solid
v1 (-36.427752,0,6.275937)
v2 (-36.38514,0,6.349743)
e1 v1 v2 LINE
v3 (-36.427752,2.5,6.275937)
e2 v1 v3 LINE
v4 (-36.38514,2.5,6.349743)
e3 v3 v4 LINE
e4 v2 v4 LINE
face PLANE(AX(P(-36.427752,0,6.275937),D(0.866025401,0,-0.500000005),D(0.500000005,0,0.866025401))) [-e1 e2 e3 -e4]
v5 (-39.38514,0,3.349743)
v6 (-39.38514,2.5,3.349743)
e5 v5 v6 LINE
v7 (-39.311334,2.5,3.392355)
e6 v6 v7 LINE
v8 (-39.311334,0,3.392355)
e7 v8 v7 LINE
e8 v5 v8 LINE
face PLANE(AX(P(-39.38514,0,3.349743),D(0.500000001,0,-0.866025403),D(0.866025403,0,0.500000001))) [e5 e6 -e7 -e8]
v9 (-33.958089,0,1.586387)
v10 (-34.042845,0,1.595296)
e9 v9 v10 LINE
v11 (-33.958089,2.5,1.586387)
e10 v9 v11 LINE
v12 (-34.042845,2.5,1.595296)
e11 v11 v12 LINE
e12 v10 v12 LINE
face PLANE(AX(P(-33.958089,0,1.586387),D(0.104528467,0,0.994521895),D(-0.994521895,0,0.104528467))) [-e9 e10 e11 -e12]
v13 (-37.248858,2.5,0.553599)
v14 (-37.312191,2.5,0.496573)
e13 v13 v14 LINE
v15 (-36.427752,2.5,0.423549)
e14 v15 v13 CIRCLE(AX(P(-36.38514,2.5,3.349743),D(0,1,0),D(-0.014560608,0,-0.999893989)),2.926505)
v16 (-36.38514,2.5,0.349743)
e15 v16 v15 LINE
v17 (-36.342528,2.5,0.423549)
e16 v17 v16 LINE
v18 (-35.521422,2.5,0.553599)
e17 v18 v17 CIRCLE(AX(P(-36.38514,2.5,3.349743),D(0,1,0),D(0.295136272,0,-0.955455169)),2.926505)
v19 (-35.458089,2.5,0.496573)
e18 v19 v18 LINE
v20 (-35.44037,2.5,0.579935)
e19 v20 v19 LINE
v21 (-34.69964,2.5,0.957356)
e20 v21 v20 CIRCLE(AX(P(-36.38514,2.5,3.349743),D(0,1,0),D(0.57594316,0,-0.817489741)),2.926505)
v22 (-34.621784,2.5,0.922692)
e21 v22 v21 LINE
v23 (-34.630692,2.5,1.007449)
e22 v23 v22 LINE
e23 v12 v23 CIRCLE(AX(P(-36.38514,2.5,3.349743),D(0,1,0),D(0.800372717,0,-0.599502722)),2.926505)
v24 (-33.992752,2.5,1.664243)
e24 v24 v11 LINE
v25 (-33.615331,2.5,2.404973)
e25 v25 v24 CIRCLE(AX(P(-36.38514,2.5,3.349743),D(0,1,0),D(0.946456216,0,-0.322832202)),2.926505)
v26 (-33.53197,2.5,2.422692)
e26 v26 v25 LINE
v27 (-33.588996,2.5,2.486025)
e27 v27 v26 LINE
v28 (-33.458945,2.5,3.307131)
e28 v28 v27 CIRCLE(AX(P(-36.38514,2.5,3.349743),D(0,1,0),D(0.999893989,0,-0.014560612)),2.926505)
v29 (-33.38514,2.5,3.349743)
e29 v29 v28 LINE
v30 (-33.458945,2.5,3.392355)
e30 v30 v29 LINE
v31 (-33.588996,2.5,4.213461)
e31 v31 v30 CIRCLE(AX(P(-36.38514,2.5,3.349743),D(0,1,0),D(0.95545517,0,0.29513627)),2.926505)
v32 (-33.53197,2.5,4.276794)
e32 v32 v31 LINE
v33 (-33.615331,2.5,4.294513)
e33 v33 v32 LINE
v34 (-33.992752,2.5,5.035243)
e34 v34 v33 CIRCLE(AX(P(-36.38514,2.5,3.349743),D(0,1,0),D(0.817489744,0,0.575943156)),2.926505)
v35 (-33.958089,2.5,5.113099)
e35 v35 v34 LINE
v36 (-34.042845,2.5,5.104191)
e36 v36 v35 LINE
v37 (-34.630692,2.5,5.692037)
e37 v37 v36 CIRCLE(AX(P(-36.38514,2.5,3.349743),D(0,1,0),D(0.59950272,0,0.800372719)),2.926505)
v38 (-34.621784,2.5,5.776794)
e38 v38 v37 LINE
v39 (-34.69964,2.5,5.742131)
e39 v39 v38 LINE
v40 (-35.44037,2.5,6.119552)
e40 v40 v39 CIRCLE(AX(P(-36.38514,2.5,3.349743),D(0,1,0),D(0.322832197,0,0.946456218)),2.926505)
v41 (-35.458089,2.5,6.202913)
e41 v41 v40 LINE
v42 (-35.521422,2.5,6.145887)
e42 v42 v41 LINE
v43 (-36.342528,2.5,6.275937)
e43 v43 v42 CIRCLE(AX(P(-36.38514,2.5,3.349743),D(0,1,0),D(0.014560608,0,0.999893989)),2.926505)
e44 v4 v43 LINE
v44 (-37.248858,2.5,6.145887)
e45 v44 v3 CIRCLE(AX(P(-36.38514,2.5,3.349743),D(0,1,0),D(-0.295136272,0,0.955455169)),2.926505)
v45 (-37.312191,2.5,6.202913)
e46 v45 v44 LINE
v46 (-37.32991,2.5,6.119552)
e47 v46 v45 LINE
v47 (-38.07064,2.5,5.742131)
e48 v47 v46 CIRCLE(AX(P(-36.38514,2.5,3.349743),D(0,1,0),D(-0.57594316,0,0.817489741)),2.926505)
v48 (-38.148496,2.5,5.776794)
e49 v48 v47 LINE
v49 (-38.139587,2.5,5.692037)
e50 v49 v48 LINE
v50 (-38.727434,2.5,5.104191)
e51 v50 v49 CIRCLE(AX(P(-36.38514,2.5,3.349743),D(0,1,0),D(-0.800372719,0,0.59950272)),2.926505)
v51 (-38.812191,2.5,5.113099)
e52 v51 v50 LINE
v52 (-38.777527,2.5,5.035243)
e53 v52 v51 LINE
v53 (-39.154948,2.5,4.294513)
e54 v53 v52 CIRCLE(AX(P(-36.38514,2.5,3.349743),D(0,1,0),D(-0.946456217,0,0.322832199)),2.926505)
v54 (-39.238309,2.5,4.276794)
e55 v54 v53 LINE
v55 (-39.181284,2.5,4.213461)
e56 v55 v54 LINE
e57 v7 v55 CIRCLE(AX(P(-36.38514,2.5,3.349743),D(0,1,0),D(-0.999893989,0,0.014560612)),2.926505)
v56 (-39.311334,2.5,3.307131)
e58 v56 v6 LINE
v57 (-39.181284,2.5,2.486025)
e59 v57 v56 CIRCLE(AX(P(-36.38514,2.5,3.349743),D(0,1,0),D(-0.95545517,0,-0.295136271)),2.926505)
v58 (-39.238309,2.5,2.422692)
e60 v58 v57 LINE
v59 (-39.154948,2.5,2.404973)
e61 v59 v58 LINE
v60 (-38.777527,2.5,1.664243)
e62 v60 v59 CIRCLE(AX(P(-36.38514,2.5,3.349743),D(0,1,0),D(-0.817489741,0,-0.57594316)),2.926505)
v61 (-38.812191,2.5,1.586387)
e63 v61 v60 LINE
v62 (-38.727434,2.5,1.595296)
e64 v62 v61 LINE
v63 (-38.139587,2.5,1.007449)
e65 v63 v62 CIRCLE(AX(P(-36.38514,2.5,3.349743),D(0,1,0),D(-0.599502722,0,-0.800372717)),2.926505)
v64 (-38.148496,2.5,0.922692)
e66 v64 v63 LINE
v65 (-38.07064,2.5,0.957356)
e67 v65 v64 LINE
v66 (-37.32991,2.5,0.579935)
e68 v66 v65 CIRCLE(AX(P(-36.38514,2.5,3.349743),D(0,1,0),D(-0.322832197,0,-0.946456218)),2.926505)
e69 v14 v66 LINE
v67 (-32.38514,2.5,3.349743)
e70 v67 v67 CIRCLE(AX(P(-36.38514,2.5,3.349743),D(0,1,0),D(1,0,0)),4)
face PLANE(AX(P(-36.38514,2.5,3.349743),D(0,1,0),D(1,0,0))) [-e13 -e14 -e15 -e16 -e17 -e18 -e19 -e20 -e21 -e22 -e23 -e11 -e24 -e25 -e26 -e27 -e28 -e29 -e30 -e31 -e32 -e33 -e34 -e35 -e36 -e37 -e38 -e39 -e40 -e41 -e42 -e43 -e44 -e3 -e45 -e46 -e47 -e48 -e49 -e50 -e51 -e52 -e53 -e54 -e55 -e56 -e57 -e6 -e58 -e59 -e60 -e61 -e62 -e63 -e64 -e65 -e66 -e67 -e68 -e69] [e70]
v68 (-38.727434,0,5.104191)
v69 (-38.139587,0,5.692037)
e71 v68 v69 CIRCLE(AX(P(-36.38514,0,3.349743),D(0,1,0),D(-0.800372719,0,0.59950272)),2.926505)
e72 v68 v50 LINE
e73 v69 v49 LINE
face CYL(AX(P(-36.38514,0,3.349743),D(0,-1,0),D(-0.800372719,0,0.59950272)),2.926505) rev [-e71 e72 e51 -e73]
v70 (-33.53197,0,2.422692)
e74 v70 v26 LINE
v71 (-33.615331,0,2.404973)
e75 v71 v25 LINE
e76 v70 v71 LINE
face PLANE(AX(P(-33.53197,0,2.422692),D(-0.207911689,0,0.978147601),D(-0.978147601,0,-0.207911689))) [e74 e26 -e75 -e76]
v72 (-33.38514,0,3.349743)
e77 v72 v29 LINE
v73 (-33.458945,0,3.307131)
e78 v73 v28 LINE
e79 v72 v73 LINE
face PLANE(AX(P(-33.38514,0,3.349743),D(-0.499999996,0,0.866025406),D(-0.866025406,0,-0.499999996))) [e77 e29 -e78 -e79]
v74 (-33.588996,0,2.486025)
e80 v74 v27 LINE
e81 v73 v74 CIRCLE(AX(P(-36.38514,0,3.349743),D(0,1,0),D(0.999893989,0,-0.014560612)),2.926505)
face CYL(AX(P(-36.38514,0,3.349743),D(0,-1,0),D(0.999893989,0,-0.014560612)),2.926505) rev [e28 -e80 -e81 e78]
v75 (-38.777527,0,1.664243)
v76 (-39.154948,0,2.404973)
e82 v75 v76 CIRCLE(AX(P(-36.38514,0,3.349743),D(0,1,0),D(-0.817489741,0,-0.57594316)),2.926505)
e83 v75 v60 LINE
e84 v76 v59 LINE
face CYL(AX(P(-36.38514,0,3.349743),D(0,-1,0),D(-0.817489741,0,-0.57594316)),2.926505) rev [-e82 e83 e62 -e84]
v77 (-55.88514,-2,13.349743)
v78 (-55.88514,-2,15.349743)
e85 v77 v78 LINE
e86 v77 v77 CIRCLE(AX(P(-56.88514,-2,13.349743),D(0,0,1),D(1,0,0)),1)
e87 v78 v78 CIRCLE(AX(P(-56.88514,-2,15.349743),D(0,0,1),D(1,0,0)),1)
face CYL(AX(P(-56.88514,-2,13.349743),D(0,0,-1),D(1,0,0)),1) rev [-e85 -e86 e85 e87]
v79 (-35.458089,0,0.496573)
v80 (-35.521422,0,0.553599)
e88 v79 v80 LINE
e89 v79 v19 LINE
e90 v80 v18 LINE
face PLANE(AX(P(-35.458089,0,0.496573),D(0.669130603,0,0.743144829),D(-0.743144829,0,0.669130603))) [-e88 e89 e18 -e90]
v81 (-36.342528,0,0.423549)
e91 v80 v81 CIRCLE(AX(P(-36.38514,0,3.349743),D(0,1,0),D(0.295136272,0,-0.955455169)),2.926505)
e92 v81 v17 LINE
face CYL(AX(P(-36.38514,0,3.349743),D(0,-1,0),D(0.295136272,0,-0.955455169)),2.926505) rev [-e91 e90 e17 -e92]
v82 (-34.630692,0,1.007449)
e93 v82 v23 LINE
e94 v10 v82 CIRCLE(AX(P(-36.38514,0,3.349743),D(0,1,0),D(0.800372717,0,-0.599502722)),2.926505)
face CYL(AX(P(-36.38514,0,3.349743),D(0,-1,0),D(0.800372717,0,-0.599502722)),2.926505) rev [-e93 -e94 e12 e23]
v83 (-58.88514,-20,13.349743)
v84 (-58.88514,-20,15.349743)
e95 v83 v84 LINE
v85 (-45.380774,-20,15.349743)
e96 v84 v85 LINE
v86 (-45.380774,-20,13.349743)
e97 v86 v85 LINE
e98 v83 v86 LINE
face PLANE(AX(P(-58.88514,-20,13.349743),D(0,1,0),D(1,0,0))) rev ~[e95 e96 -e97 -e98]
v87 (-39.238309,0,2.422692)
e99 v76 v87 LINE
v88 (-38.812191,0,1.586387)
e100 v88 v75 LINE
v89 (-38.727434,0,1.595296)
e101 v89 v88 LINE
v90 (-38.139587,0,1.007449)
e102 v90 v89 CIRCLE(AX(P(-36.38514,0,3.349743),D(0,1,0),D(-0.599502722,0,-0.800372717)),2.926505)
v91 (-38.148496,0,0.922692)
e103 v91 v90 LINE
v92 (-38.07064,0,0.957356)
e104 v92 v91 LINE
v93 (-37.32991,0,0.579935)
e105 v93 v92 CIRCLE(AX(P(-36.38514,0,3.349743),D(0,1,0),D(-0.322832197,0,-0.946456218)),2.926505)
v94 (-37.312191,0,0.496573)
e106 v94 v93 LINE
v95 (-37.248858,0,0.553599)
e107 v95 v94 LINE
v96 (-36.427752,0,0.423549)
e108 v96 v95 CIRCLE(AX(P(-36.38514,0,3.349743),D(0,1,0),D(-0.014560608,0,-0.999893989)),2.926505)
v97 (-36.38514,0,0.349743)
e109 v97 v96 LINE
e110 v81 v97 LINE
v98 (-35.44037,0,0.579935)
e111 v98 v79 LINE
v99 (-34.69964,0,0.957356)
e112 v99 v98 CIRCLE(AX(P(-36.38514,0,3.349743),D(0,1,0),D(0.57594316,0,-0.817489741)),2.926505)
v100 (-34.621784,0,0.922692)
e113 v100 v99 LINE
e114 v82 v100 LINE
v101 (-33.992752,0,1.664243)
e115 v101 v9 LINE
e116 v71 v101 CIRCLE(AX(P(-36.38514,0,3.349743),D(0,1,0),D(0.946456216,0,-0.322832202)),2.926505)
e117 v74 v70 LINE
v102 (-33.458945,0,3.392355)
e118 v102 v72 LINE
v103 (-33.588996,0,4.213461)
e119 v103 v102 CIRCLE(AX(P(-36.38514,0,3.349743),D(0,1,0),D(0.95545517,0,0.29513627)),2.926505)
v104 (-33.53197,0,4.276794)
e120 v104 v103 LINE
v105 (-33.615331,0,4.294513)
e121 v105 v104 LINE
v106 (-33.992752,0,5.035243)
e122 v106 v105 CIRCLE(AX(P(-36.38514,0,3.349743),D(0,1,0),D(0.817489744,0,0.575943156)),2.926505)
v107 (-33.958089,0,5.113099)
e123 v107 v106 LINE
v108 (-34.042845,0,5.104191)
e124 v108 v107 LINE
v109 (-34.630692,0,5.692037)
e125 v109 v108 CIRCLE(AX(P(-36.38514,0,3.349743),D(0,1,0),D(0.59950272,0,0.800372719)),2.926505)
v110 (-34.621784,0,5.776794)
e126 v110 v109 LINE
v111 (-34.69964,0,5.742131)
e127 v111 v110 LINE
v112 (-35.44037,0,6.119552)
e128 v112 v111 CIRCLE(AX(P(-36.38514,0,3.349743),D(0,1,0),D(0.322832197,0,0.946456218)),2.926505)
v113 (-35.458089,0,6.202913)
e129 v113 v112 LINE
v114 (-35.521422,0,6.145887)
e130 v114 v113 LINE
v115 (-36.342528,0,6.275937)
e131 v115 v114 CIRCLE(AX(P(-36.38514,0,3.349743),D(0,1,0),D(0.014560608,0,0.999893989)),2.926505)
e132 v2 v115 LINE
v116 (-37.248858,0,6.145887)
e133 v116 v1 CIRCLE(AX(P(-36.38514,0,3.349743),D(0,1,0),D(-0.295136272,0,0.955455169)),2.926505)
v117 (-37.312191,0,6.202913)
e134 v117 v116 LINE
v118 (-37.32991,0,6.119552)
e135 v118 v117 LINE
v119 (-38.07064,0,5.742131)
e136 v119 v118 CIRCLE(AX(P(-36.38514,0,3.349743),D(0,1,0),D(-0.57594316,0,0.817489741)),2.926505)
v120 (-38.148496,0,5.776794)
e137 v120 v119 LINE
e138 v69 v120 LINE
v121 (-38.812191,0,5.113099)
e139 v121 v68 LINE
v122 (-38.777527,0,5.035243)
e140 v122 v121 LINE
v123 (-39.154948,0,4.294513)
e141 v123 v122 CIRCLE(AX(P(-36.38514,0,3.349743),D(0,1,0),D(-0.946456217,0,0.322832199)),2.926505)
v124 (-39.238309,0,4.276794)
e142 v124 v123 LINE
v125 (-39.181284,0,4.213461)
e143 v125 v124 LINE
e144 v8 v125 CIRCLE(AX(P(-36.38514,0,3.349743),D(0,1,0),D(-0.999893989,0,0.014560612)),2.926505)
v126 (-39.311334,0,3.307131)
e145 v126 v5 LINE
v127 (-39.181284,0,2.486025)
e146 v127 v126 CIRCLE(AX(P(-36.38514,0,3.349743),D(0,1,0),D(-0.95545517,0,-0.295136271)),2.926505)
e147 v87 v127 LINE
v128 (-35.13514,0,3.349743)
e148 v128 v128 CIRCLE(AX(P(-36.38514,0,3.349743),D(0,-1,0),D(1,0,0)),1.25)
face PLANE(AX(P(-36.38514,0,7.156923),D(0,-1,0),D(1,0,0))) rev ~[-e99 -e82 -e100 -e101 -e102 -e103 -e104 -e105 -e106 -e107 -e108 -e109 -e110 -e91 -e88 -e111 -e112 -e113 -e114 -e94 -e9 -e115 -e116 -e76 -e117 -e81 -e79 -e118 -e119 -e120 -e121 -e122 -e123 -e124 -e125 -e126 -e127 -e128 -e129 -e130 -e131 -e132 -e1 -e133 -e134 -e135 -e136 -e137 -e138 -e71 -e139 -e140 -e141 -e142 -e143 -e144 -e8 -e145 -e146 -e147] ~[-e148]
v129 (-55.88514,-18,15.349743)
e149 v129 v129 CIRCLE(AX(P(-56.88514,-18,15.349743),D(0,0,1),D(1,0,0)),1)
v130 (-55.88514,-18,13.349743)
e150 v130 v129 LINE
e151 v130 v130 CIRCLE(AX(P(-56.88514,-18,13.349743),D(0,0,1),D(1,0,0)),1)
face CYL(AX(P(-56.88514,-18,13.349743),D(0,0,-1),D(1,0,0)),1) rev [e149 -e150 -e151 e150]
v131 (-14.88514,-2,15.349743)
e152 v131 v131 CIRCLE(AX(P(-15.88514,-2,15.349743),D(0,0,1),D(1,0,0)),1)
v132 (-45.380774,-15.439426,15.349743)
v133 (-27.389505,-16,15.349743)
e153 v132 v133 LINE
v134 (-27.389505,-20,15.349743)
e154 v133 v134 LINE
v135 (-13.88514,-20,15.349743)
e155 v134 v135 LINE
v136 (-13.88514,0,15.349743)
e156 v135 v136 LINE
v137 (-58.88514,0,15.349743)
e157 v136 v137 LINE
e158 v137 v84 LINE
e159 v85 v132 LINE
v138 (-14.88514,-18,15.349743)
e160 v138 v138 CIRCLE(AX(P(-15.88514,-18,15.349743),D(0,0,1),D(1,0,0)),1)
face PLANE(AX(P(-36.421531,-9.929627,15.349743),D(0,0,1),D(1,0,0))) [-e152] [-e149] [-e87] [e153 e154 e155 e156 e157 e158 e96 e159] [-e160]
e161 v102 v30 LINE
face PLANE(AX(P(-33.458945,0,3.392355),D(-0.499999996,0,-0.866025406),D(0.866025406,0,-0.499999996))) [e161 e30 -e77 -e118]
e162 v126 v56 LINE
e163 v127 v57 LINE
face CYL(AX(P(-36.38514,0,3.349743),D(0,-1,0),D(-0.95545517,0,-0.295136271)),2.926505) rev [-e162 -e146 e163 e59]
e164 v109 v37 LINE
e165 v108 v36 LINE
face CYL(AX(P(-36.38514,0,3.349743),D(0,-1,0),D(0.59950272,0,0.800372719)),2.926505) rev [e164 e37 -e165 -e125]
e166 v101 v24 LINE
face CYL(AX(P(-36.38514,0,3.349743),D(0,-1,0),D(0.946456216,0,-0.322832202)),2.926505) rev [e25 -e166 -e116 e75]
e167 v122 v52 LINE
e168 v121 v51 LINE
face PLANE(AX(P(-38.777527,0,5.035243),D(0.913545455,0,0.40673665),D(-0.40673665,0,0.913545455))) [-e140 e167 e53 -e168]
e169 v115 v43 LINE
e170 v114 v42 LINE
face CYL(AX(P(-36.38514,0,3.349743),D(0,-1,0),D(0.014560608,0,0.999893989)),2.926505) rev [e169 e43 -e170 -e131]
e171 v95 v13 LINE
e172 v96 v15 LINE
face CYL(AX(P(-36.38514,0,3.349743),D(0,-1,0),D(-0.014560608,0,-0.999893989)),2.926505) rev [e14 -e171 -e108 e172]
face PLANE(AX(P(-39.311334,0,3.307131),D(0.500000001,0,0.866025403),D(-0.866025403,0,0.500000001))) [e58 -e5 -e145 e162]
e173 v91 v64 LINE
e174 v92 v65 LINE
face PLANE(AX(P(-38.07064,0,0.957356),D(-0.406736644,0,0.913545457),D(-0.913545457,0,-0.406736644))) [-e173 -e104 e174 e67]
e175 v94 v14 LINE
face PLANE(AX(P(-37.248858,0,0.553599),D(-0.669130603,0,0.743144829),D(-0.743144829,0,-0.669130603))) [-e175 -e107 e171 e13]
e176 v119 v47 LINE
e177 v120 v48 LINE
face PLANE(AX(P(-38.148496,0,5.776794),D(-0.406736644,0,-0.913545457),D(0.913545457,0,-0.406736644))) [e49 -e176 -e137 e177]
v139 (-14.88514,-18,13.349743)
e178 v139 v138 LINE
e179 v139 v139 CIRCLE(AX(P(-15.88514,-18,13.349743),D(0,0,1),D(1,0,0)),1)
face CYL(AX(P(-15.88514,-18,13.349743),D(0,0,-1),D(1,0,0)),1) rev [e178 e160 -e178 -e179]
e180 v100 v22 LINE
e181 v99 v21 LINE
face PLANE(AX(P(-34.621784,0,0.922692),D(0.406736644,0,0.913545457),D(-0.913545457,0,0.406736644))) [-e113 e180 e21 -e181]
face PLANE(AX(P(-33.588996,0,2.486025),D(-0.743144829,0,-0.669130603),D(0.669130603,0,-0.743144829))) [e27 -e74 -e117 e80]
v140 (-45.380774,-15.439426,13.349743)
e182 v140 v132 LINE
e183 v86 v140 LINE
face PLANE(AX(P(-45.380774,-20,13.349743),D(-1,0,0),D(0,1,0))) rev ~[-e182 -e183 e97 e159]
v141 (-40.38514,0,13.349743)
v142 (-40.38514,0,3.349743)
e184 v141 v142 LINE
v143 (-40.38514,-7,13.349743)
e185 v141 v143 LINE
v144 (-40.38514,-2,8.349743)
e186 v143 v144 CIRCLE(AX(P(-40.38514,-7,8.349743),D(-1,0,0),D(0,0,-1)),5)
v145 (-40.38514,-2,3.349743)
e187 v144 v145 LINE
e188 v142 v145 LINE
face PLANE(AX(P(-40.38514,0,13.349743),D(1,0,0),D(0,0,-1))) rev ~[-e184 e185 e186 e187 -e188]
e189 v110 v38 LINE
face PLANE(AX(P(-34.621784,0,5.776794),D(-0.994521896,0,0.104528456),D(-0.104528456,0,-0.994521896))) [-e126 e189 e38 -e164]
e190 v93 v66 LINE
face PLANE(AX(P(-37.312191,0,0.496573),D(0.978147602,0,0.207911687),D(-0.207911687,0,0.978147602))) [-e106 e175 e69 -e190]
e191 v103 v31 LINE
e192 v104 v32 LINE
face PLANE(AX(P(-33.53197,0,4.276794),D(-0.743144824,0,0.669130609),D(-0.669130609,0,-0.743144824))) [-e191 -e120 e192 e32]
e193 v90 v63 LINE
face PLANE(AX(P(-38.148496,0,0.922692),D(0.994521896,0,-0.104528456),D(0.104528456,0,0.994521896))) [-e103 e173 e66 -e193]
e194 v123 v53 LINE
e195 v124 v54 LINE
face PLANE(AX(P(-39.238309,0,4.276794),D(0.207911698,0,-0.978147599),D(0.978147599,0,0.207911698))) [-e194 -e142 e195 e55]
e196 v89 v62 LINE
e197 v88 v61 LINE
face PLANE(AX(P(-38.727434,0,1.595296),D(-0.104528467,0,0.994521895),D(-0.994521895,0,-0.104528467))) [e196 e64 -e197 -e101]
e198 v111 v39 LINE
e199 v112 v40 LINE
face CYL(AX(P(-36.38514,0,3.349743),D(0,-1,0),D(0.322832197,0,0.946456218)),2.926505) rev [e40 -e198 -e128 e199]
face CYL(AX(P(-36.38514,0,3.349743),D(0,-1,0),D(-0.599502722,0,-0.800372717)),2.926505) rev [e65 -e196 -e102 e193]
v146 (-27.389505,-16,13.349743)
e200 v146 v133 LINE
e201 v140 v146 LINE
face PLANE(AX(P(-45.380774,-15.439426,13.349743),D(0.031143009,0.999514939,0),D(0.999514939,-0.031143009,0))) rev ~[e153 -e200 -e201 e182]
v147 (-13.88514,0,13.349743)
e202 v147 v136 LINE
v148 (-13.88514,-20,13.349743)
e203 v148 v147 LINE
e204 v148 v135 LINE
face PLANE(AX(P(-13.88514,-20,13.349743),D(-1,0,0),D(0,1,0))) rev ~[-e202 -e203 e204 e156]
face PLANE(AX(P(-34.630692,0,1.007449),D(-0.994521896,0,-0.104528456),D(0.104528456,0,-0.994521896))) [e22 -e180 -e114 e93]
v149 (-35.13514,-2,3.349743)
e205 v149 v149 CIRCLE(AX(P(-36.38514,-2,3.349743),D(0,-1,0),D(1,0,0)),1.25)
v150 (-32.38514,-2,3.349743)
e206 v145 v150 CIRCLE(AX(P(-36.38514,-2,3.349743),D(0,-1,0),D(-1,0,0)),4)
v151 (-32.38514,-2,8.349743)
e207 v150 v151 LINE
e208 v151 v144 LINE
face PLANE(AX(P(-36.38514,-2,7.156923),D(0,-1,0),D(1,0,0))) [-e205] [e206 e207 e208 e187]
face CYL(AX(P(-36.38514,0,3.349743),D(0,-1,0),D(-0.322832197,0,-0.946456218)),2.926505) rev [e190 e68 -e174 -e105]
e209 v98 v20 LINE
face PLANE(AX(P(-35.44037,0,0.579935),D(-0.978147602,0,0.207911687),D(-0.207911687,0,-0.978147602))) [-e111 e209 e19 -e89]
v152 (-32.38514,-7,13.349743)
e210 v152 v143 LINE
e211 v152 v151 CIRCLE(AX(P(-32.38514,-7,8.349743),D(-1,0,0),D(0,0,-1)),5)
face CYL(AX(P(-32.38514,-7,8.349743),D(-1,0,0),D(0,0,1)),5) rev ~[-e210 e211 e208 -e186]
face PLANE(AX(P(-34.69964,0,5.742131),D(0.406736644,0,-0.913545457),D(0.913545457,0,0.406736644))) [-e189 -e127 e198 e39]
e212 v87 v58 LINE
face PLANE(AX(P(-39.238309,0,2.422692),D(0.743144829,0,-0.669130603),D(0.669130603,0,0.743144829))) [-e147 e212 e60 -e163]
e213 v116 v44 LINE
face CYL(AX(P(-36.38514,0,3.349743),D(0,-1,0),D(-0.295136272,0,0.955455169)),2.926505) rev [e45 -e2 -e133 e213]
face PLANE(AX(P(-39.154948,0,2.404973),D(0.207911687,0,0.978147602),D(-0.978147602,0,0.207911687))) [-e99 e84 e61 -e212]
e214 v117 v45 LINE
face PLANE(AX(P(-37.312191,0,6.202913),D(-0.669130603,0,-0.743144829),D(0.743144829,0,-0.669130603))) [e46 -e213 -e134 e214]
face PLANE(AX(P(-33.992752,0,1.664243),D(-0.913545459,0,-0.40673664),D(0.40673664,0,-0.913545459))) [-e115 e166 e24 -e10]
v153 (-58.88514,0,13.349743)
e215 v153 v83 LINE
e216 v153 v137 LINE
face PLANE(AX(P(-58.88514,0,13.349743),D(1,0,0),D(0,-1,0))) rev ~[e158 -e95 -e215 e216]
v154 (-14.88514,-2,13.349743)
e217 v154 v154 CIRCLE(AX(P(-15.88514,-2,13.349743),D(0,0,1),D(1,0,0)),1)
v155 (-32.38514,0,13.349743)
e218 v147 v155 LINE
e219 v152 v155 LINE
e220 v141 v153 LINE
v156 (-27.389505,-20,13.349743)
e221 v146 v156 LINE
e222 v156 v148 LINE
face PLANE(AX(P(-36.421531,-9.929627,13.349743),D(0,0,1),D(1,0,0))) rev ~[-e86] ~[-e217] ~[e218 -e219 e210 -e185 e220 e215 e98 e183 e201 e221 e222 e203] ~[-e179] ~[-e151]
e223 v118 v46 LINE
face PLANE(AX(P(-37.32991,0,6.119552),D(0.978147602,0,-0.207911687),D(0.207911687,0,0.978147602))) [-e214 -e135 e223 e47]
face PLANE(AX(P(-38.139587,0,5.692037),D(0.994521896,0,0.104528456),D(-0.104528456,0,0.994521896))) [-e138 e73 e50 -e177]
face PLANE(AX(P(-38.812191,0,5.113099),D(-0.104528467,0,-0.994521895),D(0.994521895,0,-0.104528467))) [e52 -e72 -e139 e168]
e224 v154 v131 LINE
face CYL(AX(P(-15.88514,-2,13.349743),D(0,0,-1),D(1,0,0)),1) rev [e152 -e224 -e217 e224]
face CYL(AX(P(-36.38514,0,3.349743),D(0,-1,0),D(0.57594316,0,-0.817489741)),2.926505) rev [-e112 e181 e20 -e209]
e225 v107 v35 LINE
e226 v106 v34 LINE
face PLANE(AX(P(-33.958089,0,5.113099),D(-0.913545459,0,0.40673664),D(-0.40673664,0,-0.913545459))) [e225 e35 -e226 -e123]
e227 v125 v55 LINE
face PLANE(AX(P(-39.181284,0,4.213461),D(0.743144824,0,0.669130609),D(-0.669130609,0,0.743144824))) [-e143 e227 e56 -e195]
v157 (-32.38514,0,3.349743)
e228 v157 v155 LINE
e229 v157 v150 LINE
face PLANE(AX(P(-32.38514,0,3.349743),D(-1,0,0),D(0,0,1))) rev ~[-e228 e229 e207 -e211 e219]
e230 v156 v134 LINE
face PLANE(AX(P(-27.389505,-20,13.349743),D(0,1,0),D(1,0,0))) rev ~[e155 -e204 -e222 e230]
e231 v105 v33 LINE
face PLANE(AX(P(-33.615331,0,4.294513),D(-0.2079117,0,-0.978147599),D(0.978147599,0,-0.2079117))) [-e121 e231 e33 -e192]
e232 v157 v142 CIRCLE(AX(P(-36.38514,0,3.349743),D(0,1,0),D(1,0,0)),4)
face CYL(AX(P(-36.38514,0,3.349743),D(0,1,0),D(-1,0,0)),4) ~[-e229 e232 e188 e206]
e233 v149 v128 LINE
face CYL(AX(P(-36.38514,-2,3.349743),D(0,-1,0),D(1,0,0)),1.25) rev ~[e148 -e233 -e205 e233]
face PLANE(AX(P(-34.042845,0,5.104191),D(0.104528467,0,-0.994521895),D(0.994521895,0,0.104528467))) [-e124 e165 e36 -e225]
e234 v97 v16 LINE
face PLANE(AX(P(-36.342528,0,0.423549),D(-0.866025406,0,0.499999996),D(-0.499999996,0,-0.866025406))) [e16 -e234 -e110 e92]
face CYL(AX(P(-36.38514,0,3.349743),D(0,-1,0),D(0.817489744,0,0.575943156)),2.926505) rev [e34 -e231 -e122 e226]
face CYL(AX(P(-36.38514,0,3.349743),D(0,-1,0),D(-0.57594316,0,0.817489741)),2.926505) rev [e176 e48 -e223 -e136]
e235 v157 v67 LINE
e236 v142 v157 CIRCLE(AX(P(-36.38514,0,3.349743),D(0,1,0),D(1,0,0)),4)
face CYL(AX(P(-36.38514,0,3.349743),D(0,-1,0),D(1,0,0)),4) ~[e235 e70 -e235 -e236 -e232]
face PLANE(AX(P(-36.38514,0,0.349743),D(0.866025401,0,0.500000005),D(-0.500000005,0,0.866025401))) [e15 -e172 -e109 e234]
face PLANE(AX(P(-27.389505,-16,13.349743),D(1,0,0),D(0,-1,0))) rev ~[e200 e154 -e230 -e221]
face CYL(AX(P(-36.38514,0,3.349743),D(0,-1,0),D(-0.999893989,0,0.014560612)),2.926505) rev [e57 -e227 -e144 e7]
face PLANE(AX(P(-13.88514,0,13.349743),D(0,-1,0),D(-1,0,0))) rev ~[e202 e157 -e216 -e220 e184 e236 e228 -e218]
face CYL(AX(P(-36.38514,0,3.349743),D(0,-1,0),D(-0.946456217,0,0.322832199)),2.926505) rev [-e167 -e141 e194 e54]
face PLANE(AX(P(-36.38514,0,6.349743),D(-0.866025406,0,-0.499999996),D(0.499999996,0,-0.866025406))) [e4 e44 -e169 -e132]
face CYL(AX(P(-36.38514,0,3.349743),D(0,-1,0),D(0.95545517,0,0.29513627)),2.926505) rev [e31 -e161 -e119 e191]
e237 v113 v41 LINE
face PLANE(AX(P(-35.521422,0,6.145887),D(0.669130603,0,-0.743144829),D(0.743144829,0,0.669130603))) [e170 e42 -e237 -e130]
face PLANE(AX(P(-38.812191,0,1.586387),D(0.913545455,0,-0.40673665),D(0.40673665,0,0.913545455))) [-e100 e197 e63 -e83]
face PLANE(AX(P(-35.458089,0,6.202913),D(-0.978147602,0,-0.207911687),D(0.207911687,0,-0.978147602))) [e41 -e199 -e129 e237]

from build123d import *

# Parameters (mm, degrees)
SKETCH1_R           = 4
BOSS_EXTRUDE1_DEPTH = 2.5
BOSS_EXTRUDE5_DEPTH = 2
SKETCH10_R          = 1
BOSS_EXTRUDE6_DEPTH = 2
FILLET1_R           = 5
SKETCH11_R          = 1.25
CUT_EXTRUDE1_DEPTH  = 12


with BuildPart() as part:
    # Sketch1 → Boss-Extrude1 (new body)
    with BuildSketch(Plane(origin=(0, 0, 0), x_dir=(1, 0, 0), z_dir=(0, 1, 0))):
        with Locations((-36.385139863, -3.349743035)):
            Circle(SKETCH1_R)
        with BuildLine():
            Line((-36.385139863, -0.349743035), (-36.427751557, -0.423548653))
            ThreePointArc((-36.427751557, -0.423548653), (-36.842946049, -0.459268538), (-37.248857528, -0.553599062))
            Line((-37.248857528, -0.553599062), (-37.312190847, -0.496573486))
            Line((-37.312190847, -0.496573486), (-37.329909785, -0.579934537))
            ThreePointArc((-37.329909785, -0.579934537), (-37.713745161, -0.742208321), (-38.070640183, -0.957355526))
            Line((-38.070640183, -0.957355526), (-38.14849562, -0.922692052))
            Line((-38.14849562, -0.922692052), (-38.139587351, -1.007448576))
            ThreePointArc((-38.139587351, -1.007448576), (-38.454491129, -1.28039177), (-38.727434323, -1.595295548))
            Line((-38.727434323, -1.595295548), (-38.812190847, -1.586387278))
            Line((-38.812190847, -1.586387278), (-38.777527372, -1.664242716))
            ThreePointArc((-38.777527372, -1.664242716), (-38.992674577, -2.021137738), (-39.154948361, -2.404973114))
            Line((-39.154948361, -2.404973114), (-39.238309412, -2.422692052))
            Line((-39.238309412, -2.422692052), (-39.181283836, -2.486025371))
            ThreePointArc((-39.181283836, -2.486025371), (-39.27561436, -2.89193685), (-39.311334246, -3.307131342))
            Line((-39.311334246, -3.307131342), (-39.385139863, -3.349743035))
            Line((-39.385139863, -3.349743035), (-39.311334246, -3.392354728))
            ThreePointArc((-39.311334246, -3.392354728), (-39.27561436, -3.80754922), (-39.181283836, -4.2134607))
            Line((-39.181283836, -4.2134607), (-39.238309412, -4.276794018))
            Line((-39.238309412, -4.276794018), (-39.154948361, -4.294512957))
            ThreePointArc((-39.154948361, -4.294512957), (-38.992674577, -4.678348332), (-38.777527372, -5.035243354))
            Line((-38.777527372, -5.035243354), (-38.812190847, -5.113098792))
            Line((-38.812190847, -5.113098792), (-38.727434323, -5.104190522))
            ThreePointArc((-38.727434323, -5.104190522), (-38.454491129, -5.419094301), (-38.139587351, -5.692037494))
            Line((-38.139587351, -5.692037494), (-38.14849562, -5.776794018))
            Line((-38.14849562, -5.776794018), (-38.070640183, -5.742130544))
            ThreePointArc((-38.070640183, -5.742130544), (-37.713745161, -5.957277749), (-37.329909785, -6.119551533))
            Line((-37.329909785, -6.119551533), (-37.312190847, -6.202912584))
            Line((-37.312190847, -6.202912584), (-37.248857528, -6.145887008))
            ThreePointArc((-37.248857528, -6.145887008), (-36.842946049, -6.240217532), (-36.427751557, -6.275937417))
            Line((-36.427751557, -6.275937417), (-36.385139863, -6.349743035))
            Line((-36.385139863, -6.349743035), (-36.34252817, -6.275937417))
            ThreePointArc((-36.34252817, -6.275937417), (-35.927333678, -6.240217532), (-35.521422199, -6.145887008))
            Line((-35.521422199, -6.145887008), (-35.45808888, -6.202912584))
            Line((-35.45808888, -6.202912584), (-35.440369942, -6.119551533))
            ThreePointArc((-35.440369942, -6.119551533), (-35.056534566, -5.957277749), (-34.699639544, -5.742130544))
            Line((-34.699639544, -5.742130544), (-34.621784107, -5.776794018))
            Line((-34.621784107, -5.776794018), (-34.630692376, -5.692037494))
            ThreePointArc((-34.630692376, -5.692037494), (-34.315788598, -5.419094301), (-34.042845404, -5.104190522))
            Line((-34.042845404, -5.104190522), (-33.95808888, -5.113098792))
            Line((-33.95808888, -5.113098792), (-33.992752354, -5.035243354))
            ThreePointArc((-33.992752354, -5.035243354), (-33.77760515, -4.678348332), (-33.615331365, -4.294512957))
            Line((-33.615331365, -4.294512957), (-33.531970315, -4.276794018))
            Line((-33.531970315, -4.276794018), (-33.588995891, -4.2134607))
            ThreePointArc((-33.588995891, -4.2134607), (-33.494665367, -3.80754922), (-33.458945481, -3.392354728))
            Line((-33.458945481, -3.392354728), (-33.385139863, -3.349743035))
            Line((-33.385139863, -3.349743035), (-33.458945481, -3.307131342))
            ThreePointArc((-33.458945481, -3.307131342), (-33.494665367, -2.89193685), (-33.588995891, -2.486025371))
            Line((-33.588995891, -2.486025371), (-33.531970315, -2.422692052))
            Line((-33.531970315, -2.422692052), (-33.615331365, -2.404973114))
            ThreePointArc((-33.615331365, -2.404973114), (-33.77760515, -2.021137738), (-33.992752354, -1.664242716))
            Line((-33.992752354, -1.664242716), (-33.95808888, -1.586387278))
            Line((-33.95808888, -1.586387278), (-34.042845404, -1.595295548))
            ThreePointArc((-34.042845404, -1.595295548), (-34.315788598, -1.28039177), (-34.630692376, -1.007448576))
            Line((-34.630692376, -1.007448576), (-34.621784107, -0.922692052))
            Line((-34.621784107, -0.922692052), (-34.699639544, -0.957355526))
            ThreePointArc((-34.699639544, -0.957355526), (-35.056534566, -0.742208321), (-35.440369942, -0.579934537))
            Line((-35.440369942, -0.579934537), (-35.45808888, -0.496573486))
            Line((-35.45808888, -0.496573486), (-35.521422199, -0.553599062))
            ThreePointArc((-35.521422199, -0.553599062), (-35.927333678, -0.459268538), (-36.34252817, -0.423548653))
            Line((-36.34252817, -0.423548653), (-36.385139863, -0.349743035))
        make_face(mode=Mode.SUBTRACT)
    extrude(amount=BOSS_EXTRUDE1_DEPTH)

    # Sketch2 → Boss-Extrude5 (add)
    with BuildSketch(Plane.XZ):
        with BuildLine():
            ThreePointArc((-40.385139863, 3.349743035), (-36.385139863, -0.650256965), (-32.385139863, 3.349743035))
            Line((-32.385139863, 3.349743035), (-32.385139863, 13.349743035))
            Line((-32.385139863, 13.349743035), (-40.385139863, 13.349743035))
            Line((-40.385139863, 13.349743035), (-40.385139863, 3.349743035))
        make_face()
    extrude(amount=BOSS_EXTRUDE5_DEPTH)

    # Sketch10 → Boss-Extrude6 (add)
    with BuildSketch(Plane.XY.offset(13.349743035)):
        Polygon((-13.885139863, 0), (-58.885139863, 0), (-58.885139863, -20), (-45.380774313, -20), (-45.380774313, -15.439425839), (-27.389505414, -16), (-27.389505414, -20), (-13.885139863, -20), align=None)
        with Locations((-56.885139863, -18)):
            Circle(SKETCH10_R, mode=Mode.SUBTRACT)
        with Locations((-15.885139863, -18)):
            Circle(SKETCH10_R, mode=Mode.SUBTRACT)
        with Locations((-56.885139863, -2)):
            Circle(SKETCH10_R, mode=Mode.SUBTRACT)
        with Locations((-15.885139863, -2)):
            Circle(SKETCH10_R, mode=Mode.SUBTRACT)
    extrude(amount=BOSS_EXTRUDE6_DEPTH)

    # Fillet1
    fillet1_edges = [part.edges().sort_by_distance(p)[0] for p in [
        (-36.385139863, -2, 13.349743035),
    ]]
    fillet(fillet1_edges, radius=FILLET1_R)

    # Sketch11 → Cut-Extrude1 (cut)
    with BuildSketch(Plane.XZ.offset(2)):
        with Locations((-36.385139863, 3.349743035)):
            Circle(SKETCH11_R)
    extrude(amount=-CUT_EXTRUDE1_DEPTH, mode=Mode.SUBTRACT)


solid = part.part
